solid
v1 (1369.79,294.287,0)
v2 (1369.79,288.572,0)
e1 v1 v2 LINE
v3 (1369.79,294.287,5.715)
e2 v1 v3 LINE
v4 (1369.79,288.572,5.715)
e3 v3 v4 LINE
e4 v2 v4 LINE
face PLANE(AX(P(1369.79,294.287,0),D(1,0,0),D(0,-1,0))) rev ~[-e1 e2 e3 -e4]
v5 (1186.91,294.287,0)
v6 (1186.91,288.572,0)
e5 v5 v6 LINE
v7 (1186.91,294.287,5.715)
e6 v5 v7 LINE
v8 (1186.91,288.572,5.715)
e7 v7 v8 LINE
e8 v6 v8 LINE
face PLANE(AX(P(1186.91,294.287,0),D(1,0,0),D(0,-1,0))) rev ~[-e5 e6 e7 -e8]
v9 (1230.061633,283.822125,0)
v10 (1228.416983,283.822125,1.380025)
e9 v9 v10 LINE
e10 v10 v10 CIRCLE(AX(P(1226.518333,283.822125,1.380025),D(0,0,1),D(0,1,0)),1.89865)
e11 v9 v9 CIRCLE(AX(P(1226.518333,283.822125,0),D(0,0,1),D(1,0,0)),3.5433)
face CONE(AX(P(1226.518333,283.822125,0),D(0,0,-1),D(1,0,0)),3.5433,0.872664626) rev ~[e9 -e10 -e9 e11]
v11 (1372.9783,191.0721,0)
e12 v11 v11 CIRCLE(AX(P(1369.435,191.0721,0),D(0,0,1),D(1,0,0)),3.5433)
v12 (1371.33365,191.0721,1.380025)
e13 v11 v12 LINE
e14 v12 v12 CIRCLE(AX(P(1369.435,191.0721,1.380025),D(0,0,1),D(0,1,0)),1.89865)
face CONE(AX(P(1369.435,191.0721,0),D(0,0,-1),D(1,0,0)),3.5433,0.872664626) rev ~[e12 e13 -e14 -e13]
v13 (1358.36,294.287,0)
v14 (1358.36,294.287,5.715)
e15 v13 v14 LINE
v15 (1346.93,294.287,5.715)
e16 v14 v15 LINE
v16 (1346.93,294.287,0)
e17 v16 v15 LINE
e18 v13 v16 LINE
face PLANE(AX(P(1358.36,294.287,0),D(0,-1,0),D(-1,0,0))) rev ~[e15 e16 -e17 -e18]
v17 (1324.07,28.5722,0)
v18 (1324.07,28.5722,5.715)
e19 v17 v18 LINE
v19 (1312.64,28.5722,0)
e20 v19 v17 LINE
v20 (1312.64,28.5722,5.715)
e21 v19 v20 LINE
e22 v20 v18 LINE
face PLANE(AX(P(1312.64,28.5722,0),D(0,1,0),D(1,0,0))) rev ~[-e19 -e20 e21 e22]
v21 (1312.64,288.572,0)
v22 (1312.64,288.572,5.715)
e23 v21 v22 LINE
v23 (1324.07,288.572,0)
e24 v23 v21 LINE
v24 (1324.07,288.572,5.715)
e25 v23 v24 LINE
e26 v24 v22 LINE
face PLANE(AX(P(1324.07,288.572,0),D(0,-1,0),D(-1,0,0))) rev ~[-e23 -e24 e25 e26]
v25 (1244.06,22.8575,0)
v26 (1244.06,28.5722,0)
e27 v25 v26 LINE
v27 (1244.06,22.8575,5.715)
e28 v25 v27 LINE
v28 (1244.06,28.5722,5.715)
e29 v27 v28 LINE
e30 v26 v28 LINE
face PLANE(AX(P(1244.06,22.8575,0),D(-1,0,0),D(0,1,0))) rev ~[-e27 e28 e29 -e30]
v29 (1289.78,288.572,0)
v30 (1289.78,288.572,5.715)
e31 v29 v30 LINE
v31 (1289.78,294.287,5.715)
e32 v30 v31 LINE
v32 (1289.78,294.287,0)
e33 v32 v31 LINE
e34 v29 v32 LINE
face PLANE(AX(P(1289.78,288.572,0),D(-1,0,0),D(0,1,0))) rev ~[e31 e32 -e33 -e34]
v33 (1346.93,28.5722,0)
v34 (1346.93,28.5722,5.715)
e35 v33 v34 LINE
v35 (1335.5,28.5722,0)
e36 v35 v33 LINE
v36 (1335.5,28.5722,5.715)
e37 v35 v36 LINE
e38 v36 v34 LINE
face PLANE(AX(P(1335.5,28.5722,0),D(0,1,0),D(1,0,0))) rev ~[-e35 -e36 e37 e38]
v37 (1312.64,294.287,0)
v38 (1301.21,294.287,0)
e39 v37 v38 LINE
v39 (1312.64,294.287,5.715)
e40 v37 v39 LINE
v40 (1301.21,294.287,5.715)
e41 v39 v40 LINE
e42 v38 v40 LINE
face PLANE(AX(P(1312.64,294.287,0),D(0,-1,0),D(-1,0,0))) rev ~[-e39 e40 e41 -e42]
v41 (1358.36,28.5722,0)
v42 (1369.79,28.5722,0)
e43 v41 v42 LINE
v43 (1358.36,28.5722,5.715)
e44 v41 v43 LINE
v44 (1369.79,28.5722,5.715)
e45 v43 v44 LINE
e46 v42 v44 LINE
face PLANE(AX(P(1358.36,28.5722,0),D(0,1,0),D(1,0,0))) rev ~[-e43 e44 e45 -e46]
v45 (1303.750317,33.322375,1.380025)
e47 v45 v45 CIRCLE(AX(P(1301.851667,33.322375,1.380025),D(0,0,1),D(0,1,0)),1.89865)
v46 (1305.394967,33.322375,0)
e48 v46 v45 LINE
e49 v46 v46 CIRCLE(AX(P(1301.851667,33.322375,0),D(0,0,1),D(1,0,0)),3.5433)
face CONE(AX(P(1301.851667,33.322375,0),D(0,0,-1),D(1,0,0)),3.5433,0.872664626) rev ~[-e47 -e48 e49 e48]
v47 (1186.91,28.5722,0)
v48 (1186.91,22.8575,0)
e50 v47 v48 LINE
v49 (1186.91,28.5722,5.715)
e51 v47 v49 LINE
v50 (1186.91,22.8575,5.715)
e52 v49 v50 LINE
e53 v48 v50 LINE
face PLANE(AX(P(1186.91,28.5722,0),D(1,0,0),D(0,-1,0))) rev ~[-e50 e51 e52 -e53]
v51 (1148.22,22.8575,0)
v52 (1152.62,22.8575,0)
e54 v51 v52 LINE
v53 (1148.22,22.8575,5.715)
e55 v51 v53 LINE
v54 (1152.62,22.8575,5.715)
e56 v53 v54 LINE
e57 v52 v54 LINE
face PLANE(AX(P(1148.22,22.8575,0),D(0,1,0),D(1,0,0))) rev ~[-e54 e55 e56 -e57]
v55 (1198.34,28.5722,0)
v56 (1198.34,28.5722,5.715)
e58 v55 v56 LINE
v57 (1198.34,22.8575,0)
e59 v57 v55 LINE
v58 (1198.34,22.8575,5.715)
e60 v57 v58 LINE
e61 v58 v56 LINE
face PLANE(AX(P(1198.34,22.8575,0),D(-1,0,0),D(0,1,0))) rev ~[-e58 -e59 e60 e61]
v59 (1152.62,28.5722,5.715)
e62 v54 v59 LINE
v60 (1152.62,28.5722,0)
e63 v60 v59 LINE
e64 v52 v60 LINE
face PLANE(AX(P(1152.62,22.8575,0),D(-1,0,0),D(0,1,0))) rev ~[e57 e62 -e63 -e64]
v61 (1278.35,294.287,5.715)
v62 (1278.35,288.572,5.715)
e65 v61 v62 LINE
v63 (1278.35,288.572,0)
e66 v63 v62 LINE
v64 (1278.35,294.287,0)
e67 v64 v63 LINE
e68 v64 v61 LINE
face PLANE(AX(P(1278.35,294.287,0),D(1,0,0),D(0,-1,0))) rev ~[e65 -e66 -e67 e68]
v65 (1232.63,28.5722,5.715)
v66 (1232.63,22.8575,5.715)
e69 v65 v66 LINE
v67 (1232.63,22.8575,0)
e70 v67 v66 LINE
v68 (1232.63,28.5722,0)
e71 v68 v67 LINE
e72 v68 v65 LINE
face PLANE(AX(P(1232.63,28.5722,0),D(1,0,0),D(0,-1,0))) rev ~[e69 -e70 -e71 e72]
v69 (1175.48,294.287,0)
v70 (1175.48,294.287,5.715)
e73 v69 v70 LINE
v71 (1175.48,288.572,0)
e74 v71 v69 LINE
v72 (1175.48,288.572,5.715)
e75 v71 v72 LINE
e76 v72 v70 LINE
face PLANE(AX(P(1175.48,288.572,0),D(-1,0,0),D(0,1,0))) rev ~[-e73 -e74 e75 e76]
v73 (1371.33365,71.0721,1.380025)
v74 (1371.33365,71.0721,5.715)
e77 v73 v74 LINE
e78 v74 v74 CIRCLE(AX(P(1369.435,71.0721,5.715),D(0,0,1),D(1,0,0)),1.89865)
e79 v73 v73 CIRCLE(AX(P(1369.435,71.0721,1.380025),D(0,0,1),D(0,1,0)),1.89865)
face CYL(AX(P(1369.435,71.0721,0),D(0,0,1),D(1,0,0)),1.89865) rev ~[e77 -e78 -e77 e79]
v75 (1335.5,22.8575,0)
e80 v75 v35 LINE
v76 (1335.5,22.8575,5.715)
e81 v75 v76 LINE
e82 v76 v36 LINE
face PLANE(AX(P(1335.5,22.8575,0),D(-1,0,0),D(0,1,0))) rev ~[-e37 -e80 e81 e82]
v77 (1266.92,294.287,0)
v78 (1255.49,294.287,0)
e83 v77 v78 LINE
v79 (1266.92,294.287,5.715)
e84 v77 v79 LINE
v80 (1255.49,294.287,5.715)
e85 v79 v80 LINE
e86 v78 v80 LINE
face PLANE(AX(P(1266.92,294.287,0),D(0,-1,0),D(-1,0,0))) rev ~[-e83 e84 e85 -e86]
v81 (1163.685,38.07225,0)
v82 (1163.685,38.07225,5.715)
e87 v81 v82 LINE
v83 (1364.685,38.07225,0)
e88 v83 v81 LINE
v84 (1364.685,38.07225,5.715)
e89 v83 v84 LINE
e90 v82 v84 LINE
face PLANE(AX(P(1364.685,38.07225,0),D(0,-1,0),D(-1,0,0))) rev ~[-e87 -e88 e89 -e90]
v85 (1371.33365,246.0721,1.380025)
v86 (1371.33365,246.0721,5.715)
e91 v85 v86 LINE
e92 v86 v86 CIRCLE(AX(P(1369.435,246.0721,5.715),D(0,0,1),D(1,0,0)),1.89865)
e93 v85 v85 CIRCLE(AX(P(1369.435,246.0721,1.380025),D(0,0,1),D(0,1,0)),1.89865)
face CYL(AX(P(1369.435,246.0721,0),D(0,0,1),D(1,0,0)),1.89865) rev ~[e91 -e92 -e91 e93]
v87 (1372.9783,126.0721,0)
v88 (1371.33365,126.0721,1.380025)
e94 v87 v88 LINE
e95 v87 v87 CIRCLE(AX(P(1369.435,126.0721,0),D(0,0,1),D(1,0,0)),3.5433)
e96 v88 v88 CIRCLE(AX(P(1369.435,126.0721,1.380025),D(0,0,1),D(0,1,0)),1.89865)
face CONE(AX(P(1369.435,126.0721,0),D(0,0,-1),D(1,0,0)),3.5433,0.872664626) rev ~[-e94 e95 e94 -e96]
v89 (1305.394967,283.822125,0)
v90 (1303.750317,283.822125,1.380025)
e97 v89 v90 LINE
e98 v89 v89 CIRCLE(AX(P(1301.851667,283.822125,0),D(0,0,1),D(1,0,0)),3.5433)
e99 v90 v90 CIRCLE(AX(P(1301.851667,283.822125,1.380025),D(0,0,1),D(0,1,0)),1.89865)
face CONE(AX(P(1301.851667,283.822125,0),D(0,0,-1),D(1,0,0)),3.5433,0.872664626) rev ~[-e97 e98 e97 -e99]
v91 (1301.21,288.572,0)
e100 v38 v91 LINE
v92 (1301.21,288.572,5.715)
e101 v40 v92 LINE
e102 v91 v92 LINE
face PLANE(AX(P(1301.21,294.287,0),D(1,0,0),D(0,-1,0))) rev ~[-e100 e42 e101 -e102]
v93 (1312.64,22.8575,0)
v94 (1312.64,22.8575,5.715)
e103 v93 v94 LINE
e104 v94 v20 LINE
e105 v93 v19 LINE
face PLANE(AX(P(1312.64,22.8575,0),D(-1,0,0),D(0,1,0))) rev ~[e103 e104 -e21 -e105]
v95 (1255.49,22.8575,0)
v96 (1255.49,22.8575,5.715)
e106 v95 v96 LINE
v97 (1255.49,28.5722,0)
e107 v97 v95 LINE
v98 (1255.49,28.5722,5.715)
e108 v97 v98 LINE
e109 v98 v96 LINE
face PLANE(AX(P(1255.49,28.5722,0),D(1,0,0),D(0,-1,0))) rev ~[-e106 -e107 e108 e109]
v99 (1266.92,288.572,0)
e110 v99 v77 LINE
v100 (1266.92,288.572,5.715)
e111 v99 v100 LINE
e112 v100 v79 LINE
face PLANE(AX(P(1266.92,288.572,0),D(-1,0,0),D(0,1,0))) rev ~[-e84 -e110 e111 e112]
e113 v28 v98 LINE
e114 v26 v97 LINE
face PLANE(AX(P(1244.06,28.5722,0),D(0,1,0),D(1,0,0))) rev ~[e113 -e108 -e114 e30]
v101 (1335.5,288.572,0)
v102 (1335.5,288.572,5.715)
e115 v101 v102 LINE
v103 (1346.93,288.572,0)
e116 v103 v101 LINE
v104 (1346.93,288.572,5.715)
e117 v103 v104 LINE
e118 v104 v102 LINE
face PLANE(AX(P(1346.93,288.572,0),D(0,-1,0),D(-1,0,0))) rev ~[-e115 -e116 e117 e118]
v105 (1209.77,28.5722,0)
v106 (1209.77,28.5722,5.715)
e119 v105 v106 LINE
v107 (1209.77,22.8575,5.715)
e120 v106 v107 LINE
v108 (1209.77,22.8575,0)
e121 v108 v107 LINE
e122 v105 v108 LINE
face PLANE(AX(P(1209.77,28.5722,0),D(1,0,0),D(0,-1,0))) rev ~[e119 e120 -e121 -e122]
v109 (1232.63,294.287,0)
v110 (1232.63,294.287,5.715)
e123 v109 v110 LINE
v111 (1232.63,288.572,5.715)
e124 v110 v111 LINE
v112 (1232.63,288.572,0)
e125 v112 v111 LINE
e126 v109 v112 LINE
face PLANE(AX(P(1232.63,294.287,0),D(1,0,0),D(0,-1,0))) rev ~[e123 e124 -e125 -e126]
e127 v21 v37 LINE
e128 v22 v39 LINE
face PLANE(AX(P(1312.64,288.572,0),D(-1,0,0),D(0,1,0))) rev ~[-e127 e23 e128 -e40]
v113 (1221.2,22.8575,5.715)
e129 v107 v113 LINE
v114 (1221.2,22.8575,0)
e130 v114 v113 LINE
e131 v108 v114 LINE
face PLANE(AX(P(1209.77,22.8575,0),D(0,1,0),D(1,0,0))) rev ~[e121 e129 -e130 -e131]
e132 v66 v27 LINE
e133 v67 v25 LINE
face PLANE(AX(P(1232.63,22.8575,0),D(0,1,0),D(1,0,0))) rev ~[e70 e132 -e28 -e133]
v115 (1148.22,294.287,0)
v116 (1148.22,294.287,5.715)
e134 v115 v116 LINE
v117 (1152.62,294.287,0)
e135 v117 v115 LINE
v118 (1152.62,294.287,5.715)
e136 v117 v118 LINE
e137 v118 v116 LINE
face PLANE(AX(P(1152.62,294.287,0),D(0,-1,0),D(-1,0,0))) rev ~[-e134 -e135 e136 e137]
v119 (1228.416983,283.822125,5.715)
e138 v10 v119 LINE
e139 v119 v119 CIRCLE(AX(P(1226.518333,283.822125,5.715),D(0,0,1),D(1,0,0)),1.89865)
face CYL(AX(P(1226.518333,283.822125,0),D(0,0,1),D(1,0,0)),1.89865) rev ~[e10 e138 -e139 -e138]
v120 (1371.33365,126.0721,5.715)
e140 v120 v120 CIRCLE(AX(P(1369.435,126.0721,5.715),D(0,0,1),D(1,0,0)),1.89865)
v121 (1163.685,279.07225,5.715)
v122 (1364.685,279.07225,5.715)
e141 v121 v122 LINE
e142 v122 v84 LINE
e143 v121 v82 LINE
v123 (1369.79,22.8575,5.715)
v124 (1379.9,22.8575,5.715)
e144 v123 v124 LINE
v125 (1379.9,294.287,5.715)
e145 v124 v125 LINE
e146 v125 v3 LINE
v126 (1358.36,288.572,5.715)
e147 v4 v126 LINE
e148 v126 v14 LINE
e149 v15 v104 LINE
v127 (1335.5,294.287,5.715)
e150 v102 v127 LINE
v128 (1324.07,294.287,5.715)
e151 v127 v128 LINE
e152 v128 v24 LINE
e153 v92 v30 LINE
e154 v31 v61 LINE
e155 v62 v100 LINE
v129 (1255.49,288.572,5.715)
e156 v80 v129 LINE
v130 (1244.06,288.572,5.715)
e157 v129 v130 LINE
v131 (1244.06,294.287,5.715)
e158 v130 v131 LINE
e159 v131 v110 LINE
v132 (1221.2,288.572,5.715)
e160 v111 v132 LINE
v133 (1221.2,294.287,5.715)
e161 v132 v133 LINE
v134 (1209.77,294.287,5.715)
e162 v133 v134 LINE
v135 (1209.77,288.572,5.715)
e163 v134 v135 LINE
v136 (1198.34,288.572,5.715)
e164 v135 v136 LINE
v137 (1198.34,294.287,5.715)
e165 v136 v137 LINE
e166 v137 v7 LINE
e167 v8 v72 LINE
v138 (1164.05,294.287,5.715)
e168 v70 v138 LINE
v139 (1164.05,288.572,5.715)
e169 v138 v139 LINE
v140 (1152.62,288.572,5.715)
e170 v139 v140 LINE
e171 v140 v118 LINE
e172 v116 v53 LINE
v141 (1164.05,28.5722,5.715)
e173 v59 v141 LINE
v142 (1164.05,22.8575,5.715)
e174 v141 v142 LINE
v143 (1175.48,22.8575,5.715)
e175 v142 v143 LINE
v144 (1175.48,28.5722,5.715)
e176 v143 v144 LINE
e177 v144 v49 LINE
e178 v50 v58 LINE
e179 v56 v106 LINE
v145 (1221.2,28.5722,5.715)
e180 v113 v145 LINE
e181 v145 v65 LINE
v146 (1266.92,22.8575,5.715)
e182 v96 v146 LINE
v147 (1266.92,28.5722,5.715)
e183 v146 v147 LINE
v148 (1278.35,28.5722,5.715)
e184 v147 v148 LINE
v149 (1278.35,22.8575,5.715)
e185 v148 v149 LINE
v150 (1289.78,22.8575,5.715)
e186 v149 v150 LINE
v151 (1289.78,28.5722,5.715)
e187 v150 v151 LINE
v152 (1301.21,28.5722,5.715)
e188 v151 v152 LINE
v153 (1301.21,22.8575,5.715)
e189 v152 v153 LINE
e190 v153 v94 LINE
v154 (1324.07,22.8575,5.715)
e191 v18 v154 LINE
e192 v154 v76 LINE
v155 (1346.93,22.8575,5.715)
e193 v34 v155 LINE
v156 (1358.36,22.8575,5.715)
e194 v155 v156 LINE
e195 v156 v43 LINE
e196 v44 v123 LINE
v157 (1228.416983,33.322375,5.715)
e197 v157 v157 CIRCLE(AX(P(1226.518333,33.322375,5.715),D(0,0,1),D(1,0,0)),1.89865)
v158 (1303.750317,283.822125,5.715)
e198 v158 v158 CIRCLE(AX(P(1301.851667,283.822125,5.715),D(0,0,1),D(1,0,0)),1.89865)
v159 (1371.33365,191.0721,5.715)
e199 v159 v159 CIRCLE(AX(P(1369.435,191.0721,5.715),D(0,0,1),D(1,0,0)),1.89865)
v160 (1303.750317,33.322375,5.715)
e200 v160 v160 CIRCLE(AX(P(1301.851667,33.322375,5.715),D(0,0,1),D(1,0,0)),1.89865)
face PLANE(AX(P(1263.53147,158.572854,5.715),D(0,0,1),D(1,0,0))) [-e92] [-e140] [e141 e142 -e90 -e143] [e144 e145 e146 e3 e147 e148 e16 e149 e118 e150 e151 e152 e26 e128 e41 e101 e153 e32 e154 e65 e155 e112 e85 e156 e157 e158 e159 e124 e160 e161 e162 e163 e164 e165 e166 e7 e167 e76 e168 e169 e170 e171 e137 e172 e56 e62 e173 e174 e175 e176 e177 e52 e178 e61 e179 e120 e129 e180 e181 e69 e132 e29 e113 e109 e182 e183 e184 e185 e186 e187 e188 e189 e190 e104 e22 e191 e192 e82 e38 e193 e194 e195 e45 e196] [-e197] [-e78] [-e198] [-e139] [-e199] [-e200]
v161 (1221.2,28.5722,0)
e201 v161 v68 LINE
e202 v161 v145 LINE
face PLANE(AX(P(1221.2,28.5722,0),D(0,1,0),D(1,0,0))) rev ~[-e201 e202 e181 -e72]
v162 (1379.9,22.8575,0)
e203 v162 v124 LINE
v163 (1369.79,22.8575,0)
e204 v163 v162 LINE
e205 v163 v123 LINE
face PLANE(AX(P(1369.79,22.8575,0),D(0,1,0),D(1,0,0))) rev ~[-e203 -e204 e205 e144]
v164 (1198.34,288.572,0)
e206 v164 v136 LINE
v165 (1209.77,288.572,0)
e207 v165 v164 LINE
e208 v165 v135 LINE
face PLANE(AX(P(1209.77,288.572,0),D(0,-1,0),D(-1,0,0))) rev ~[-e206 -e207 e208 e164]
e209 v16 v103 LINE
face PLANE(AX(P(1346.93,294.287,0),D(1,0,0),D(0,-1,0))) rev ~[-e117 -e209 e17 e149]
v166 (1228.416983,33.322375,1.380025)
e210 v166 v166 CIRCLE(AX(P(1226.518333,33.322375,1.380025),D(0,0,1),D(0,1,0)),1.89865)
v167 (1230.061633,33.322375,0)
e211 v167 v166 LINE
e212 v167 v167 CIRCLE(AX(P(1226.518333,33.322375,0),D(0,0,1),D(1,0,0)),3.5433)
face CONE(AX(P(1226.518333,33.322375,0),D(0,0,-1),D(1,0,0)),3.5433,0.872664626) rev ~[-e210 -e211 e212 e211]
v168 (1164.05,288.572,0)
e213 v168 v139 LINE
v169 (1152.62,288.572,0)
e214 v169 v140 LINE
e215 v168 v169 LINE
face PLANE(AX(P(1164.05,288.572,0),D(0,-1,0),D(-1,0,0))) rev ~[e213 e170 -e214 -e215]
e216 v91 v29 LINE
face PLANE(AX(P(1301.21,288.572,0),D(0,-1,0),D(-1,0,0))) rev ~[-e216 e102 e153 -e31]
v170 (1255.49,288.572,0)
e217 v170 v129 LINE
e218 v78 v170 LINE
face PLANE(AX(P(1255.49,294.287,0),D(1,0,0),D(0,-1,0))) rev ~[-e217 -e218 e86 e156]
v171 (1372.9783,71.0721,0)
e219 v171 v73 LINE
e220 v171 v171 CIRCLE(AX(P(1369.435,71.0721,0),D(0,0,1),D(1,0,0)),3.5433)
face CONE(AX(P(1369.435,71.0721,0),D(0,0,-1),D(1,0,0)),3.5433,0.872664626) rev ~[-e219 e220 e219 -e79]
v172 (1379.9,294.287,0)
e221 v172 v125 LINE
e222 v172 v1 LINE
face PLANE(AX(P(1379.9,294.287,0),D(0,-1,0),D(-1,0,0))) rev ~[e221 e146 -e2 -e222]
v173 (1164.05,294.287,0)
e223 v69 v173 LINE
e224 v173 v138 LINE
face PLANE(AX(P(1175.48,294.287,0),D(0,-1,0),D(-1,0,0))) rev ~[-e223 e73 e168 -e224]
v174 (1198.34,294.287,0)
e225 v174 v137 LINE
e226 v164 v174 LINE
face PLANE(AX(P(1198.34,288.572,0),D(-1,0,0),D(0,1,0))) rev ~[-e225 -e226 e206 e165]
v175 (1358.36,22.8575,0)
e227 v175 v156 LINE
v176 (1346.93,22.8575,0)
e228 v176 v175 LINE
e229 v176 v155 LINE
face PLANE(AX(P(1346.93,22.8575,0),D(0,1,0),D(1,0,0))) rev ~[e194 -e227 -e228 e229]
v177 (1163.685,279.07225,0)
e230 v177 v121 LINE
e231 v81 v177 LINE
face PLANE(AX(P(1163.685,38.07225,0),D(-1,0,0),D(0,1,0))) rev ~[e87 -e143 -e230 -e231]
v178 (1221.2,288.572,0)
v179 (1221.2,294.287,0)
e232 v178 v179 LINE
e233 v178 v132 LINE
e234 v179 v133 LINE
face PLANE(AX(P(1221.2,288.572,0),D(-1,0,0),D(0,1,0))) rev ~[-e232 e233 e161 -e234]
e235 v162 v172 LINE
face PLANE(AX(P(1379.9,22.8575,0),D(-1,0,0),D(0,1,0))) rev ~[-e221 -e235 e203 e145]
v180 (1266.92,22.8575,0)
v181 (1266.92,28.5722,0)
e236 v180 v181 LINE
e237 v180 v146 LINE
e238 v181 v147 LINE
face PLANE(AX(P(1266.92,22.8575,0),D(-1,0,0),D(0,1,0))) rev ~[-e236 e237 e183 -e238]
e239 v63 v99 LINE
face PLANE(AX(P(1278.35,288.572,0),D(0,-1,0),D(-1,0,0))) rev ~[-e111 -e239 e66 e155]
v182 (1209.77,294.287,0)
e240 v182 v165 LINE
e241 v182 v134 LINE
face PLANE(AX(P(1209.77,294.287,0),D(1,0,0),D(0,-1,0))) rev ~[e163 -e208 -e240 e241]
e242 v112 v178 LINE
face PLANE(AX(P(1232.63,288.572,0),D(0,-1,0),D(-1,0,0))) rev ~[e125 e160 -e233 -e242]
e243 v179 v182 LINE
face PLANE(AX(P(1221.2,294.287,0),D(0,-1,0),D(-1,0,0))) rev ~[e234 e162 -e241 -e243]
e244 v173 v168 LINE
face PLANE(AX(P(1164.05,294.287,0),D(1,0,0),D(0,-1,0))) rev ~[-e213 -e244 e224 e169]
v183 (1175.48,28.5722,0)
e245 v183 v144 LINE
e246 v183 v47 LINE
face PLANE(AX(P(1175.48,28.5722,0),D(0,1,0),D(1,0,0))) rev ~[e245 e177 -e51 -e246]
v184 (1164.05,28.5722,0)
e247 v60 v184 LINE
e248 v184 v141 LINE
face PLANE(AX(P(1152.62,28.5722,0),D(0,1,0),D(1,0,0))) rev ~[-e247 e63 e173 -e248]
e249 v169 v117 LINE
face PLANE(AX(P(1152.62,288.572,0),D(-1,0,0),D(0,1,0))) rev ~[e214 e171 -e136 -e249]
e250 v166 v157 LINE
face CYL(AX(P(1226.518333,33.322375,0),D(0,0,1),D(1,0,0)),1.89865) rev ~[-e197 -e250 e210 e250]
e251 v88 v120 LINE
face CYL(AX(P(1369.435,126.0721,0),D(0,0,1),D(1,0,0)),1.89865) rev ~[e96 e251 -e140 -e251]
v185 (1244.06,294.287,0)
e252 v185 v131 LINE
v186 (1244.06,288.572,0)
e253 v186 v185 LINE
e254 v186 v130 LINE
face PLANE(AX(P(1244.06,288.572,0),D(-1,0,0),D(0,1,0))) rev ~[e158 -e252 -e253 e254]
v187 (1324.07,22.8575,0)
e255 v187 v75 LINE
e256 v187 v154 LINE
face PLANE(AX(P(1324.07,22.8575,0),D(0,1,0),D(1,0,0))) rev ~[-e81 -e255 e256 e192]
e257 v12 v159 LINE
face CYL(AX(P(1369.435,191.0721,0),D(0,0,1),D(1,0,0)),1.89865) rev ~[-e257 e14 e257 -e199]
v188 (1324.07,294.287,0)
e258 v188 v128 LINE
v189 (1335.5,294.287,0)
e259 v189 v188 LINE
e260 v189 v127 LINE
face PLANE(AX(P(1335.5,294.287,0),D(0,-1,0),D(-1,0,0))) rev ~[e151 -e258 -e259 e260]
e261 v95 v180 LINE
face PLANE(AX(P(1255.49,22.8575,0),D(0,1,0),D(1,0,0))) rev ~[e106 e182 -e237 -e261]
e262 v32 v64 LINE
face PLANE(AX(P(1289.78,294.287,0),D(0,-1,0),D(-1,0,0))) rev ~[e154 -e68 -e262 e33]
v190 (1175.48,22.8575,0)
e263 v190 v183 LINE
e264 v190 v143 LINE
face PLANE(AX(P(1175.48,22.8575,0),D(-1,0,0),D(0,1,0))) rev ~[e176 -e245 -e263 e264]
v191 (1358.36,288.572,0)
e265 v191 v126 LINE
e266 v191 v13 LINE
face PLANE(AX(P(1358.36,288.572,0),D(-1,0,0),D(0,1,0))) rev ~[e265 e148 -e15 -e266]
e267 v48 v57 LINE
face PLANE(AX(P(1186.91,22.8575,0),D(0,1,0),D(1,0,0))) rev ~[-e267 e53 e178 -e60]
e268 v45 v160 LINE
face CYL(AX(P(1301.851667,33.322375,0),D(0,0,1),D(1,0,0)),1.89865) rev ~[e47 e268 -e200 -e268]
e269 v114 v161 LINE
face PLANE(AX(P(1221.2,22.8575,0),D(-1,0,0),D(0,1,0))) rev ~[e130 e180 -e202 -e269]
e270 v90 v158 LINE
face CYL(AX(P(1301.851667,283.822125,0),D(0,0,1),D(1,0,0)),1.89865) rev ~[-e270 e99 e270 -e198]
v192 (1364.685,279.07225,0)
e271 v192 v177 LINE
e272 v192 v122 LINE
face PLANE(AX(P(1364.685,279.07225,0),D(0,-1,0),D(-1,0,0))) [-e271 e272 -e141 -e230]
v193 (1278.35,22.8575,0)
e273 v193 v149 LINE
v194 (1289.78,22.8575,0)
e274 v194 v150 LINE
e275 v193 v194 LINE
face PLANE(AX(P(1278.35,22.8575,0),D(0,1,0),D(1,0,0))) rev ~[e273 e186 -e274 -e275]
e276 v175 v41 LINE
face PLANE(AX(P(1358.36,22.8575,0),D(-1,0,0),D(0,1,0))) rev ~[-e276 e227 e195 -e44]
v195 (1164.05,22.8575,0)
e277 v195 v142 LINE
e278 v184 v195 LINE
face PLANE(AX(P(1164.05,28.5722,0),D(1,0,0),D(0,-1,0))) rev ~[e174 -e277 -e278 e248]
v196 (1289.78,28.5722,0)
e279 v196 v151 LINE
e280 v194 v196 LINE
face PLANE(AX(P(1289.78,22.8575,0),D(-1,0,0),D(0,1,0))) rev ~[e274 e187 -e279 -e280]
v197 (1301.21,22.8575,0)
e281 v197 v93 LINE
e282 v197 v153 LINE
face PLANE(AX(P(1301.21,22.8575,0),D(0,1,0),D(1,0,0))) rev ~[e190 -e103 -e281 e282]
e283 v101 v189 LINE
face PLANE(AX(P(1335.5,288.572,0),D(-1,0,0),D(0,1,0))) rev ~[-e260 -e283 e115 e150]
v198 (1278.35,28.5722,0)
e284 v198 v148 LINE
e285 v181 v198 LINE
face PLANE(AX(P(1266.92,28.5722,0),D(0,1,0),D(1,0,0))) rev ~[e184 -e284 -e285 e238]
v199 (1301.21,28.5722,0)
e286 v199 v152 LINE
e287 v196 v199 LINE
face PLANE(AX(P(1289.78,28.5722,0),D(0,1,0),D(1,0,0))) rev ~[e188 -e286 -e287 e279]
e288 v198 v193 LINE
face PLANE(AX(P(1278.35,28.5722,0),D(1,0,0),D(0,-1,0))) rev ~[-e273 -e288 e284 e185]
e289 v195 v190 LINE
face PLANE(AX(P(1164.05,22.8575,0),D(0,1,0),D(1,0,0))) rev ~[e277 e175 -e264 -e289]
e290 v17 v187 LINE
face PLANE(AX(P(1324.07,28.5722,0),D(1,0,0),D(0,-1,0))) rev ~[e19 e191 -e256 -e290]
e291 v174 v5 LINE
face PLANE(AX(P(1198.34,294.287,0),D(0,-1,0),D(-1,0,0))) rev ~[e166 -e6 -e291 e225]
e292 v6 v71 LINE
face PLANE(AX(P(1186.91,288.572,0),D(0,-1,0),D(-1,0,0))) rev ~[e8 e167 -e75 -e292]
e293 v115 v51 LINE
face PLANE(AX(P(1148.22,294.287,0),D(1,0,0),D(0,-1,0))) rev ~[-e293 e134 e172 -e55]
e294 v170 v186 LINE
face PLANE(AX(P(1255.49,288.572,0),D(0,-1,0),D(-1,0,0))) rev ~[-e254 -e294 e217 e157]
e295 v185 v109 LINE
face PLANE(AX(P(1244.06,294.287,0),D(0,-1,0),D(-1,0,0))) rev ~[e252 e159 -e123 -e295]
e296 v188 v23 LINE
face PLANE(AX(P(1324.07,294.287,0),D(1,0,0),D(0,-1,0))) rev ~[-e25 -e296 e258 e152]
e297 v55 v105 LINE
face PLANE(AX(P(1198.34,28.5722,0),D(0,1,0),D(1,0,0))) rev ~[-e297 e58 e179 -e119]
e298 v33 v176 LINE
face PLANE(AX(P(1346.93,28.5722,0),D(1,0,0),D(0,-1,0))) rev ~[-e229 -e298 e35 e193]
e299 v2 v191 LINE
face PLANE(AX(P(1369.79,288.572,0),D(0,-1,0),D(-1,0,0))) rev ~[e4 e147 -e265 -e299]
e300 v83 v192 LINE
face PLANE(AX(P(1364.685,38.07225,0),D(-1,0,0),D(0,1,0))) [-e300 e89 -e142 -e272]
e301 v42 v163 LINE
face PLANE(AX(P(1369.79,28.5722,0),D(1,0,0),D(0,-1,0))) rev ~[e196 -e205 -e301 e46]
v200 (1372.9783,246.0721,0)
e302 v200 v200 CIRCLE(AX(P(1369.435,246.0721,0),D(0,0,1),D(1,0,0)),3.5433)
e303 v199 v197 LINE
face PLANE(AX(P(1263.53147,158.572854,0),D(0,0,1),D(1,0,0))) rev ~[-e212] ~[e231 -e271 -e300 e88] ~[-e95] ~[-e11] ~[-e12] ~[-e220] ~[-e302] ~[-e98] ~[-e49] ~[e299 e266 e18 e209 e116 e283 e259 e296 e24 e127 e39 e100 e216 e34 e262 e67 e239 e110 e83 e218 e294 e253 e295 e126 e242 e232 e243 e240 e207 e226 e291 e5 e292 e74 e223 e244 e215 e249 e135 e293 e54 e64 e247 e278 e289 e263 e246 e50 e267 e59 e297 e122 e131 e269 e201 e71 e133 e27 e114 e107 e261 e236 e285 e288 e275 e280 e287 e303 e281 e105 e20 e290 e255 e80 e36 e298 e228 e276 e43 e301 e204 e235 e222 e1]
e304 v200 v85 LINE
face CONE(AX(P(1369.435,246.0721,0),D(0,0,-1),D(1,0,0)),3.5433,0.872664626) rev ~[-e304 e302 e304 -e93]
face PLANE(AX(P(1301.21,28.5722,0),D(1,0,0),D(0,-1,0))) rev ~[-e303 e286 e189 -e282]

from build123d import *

# Parameters (mm, degrees)
BOSS_EXTRUDE1_DEPTH                               = 5.715
SKETCH1_W                                         = 201
SKETCH1_H                                         = 241
CUT_EXTRUDE1_DEPTH                                = 6.715
CSK_FOR_6_FLAT_HEAD_MACHINE_SCREW_100_D           = 3.7973
CSK_FOR_6_FLAT_HEAD_MACHINE_SCREW_100_CSINK_D     = 7.0866
CSK_FOR_6_FLAT_HEAD_MACHINE_SCREW_100_CSINK_ANGLE = 100
CSK_FOR_6_FLAT_HEAD_MACHINE_SCREW_2_D             = 3.7973
CSK_FOR_6_FLAT_HEAD_MACHINE_SCREW_2_CSINK_D       = 7.0866
CSK_FOR_6_FLAT_HEAD_MACHINE_SCREW_2_CSINK_ANGLE   = 100


with BuildPart() as part:
    # Model → Boss-Extrude1 (new body)
    with BuildSketch(Plane.XY):
        Polygon((1148.22, 22.8575), (1152.62, 22.8575), (1152.62, 28.5722), (1164.05, 28.5722), (1164.05, 22.8575), (1175.48, 22.8575), (1175.48, 28.5722), (1186.91, 28.5722), (1186.91, 22.8575), (1198.34, 22.8575), (1198.34, 28.5722), (1209.77, 28.5722), (1209.77, 22.8575), (1221.2, 22.8575), (1221.2, 28.5722), (1232.63, 28.5722), (1232.63, 22.8575), (1244.06, 22.8575), (1244.06, 28.5722), (1255.49, 28.5722), (1255.49, 22.8575), (1266.92, 22.8575), (1266.92, 28.5722), (1278.35, 28.5722), (1278.35, 22.8575), (1289.78, 22.8575), (1289.78, 28.5722), (1301.21, 28.5722), (1301.21, 22.8575), (1312.64, 22.8575), (1312.64, 28.5722), (1324.07, 28.5722), (1324.07, 22.8575), (1335.5, 22.8575), (1335.5, 28.5722), (1346.93, 28.5722), (1346.93, 22.8575), (1358.36, 22.8575), (1358.36, 28.5722), (1369.79, 28.5722), (1369.79, 22.8575), (1374.18, 22.8575), (1379.9, 22.8575), (1379.9, 28.5722), (1379.9, 288.572), (1379.9, 294.287), (1374.18, 294.287), (1369.79, 294.287), (1369.79, 288.572), (1358.36, 288.572), (1358.36, 294.287), (1346.93, 294.287), (1346.93, 288.572), (1335.5, 288.572), (1335.5, 294.287), (1324.07, 294.287), (1324.07, 288.572), (1312.64, 288.572), (1312.64, 294.287), (1301.21, 294.287), (1301.21, 288.572), (1289.78, 288.572), (1289.78, 294.287), (1278.35, 294.287), (1278.35, 288.572), (1266.92, 288.572), (1266.92, 294.287), (1255.49, 294.287), (1255.49, 288.572), (1244.06, 288.572), (1244.06, 294.287), (1232.63, 294.287), (1232.63, 288.572), (1221.2, 288.572), (1221.2, 294.287), (1209.77, 294.287), (1209.77, 288.572), (1198.34, 288.572), (1198.34, 294.287), (1186.91, 294.287), (1186.91, 288.572), (1175.48, 288.572), (1175.48, 294.287), (1164.05, 294.287), (1164.05, 288.572), (1152.62, 288.572), (1152.62, 294.287), (1148.22, 294.287), (1148.22, 288.572), (1148.22, 28.5722), align=None)
    extrude(amount=BOSS_EXTRUDE1_DEPTH)

    # Sketch1 → Cut-Extrude1 (cut, through all)
    with BuildSketch(Plane(origin=(0, 0, 0), x_dir=(-1, 0, 0), z_dir=(0, 0, -1))):
        with Locations((-1264.185, 158.57225)):
            Rectangle(SKETCH1_W, SKETCH1_H)
    extrude(amount=-CUT_EXTRUDE1_DEPTH, mode=Mode.SUBTRACT)

    # CSK for _6 Flat Head Machine Screw _100 (through all)
    with Locations(Plane(origin=(0, 0, 0), x_dir=(-1, 0, 0), z_dir=(0, 0, -1))):
        with Locations((-1301.85166666, 283.822125), (-1226.51833334, 283.822125), (-1226.51833334, 33.322375), (-1301.85166666, 33.322375)):
            CounterSinkHole(CSK_FOR_6_FLAT_HEAD_MACHINE_SCREW_100_D / 2, CSK_FOR_6_FLAT_HEAD_MACHINE_SCREW_100_CSINK_D / 2, counter_sink_angle=CSK_FOR_6_FLAT_HEAD_MACHINE_SCREW_100_CSINK_ANGLE)

    # CSK for _6 Flat Head Machine Screw _ 2 (through all)
    with Locations(Plane(origin=(0, 0, 0), x_dir=(-1, 0, 0), z_dir=(0, 0, -1))):
        with Locations((-1369.435, 246.0721), (-1369.435, 191.0721), (-1369.435, 126.0721), (-1369.435, 71.0721)):
            CounterSinkHole(CSK_FOR_6_FLAT_HEAD_MACHINE_SCREW_2_D / 2, CSK_FOR_6_FLAT_HEAD_MACHINE_SCREW_2_CSINK_D / 2, counter_sink_angle=CSK_FOR_6_FLAT_HEAD_MACHINE_SCREW_2_CSINK_ANGLE)


solid = part.part
